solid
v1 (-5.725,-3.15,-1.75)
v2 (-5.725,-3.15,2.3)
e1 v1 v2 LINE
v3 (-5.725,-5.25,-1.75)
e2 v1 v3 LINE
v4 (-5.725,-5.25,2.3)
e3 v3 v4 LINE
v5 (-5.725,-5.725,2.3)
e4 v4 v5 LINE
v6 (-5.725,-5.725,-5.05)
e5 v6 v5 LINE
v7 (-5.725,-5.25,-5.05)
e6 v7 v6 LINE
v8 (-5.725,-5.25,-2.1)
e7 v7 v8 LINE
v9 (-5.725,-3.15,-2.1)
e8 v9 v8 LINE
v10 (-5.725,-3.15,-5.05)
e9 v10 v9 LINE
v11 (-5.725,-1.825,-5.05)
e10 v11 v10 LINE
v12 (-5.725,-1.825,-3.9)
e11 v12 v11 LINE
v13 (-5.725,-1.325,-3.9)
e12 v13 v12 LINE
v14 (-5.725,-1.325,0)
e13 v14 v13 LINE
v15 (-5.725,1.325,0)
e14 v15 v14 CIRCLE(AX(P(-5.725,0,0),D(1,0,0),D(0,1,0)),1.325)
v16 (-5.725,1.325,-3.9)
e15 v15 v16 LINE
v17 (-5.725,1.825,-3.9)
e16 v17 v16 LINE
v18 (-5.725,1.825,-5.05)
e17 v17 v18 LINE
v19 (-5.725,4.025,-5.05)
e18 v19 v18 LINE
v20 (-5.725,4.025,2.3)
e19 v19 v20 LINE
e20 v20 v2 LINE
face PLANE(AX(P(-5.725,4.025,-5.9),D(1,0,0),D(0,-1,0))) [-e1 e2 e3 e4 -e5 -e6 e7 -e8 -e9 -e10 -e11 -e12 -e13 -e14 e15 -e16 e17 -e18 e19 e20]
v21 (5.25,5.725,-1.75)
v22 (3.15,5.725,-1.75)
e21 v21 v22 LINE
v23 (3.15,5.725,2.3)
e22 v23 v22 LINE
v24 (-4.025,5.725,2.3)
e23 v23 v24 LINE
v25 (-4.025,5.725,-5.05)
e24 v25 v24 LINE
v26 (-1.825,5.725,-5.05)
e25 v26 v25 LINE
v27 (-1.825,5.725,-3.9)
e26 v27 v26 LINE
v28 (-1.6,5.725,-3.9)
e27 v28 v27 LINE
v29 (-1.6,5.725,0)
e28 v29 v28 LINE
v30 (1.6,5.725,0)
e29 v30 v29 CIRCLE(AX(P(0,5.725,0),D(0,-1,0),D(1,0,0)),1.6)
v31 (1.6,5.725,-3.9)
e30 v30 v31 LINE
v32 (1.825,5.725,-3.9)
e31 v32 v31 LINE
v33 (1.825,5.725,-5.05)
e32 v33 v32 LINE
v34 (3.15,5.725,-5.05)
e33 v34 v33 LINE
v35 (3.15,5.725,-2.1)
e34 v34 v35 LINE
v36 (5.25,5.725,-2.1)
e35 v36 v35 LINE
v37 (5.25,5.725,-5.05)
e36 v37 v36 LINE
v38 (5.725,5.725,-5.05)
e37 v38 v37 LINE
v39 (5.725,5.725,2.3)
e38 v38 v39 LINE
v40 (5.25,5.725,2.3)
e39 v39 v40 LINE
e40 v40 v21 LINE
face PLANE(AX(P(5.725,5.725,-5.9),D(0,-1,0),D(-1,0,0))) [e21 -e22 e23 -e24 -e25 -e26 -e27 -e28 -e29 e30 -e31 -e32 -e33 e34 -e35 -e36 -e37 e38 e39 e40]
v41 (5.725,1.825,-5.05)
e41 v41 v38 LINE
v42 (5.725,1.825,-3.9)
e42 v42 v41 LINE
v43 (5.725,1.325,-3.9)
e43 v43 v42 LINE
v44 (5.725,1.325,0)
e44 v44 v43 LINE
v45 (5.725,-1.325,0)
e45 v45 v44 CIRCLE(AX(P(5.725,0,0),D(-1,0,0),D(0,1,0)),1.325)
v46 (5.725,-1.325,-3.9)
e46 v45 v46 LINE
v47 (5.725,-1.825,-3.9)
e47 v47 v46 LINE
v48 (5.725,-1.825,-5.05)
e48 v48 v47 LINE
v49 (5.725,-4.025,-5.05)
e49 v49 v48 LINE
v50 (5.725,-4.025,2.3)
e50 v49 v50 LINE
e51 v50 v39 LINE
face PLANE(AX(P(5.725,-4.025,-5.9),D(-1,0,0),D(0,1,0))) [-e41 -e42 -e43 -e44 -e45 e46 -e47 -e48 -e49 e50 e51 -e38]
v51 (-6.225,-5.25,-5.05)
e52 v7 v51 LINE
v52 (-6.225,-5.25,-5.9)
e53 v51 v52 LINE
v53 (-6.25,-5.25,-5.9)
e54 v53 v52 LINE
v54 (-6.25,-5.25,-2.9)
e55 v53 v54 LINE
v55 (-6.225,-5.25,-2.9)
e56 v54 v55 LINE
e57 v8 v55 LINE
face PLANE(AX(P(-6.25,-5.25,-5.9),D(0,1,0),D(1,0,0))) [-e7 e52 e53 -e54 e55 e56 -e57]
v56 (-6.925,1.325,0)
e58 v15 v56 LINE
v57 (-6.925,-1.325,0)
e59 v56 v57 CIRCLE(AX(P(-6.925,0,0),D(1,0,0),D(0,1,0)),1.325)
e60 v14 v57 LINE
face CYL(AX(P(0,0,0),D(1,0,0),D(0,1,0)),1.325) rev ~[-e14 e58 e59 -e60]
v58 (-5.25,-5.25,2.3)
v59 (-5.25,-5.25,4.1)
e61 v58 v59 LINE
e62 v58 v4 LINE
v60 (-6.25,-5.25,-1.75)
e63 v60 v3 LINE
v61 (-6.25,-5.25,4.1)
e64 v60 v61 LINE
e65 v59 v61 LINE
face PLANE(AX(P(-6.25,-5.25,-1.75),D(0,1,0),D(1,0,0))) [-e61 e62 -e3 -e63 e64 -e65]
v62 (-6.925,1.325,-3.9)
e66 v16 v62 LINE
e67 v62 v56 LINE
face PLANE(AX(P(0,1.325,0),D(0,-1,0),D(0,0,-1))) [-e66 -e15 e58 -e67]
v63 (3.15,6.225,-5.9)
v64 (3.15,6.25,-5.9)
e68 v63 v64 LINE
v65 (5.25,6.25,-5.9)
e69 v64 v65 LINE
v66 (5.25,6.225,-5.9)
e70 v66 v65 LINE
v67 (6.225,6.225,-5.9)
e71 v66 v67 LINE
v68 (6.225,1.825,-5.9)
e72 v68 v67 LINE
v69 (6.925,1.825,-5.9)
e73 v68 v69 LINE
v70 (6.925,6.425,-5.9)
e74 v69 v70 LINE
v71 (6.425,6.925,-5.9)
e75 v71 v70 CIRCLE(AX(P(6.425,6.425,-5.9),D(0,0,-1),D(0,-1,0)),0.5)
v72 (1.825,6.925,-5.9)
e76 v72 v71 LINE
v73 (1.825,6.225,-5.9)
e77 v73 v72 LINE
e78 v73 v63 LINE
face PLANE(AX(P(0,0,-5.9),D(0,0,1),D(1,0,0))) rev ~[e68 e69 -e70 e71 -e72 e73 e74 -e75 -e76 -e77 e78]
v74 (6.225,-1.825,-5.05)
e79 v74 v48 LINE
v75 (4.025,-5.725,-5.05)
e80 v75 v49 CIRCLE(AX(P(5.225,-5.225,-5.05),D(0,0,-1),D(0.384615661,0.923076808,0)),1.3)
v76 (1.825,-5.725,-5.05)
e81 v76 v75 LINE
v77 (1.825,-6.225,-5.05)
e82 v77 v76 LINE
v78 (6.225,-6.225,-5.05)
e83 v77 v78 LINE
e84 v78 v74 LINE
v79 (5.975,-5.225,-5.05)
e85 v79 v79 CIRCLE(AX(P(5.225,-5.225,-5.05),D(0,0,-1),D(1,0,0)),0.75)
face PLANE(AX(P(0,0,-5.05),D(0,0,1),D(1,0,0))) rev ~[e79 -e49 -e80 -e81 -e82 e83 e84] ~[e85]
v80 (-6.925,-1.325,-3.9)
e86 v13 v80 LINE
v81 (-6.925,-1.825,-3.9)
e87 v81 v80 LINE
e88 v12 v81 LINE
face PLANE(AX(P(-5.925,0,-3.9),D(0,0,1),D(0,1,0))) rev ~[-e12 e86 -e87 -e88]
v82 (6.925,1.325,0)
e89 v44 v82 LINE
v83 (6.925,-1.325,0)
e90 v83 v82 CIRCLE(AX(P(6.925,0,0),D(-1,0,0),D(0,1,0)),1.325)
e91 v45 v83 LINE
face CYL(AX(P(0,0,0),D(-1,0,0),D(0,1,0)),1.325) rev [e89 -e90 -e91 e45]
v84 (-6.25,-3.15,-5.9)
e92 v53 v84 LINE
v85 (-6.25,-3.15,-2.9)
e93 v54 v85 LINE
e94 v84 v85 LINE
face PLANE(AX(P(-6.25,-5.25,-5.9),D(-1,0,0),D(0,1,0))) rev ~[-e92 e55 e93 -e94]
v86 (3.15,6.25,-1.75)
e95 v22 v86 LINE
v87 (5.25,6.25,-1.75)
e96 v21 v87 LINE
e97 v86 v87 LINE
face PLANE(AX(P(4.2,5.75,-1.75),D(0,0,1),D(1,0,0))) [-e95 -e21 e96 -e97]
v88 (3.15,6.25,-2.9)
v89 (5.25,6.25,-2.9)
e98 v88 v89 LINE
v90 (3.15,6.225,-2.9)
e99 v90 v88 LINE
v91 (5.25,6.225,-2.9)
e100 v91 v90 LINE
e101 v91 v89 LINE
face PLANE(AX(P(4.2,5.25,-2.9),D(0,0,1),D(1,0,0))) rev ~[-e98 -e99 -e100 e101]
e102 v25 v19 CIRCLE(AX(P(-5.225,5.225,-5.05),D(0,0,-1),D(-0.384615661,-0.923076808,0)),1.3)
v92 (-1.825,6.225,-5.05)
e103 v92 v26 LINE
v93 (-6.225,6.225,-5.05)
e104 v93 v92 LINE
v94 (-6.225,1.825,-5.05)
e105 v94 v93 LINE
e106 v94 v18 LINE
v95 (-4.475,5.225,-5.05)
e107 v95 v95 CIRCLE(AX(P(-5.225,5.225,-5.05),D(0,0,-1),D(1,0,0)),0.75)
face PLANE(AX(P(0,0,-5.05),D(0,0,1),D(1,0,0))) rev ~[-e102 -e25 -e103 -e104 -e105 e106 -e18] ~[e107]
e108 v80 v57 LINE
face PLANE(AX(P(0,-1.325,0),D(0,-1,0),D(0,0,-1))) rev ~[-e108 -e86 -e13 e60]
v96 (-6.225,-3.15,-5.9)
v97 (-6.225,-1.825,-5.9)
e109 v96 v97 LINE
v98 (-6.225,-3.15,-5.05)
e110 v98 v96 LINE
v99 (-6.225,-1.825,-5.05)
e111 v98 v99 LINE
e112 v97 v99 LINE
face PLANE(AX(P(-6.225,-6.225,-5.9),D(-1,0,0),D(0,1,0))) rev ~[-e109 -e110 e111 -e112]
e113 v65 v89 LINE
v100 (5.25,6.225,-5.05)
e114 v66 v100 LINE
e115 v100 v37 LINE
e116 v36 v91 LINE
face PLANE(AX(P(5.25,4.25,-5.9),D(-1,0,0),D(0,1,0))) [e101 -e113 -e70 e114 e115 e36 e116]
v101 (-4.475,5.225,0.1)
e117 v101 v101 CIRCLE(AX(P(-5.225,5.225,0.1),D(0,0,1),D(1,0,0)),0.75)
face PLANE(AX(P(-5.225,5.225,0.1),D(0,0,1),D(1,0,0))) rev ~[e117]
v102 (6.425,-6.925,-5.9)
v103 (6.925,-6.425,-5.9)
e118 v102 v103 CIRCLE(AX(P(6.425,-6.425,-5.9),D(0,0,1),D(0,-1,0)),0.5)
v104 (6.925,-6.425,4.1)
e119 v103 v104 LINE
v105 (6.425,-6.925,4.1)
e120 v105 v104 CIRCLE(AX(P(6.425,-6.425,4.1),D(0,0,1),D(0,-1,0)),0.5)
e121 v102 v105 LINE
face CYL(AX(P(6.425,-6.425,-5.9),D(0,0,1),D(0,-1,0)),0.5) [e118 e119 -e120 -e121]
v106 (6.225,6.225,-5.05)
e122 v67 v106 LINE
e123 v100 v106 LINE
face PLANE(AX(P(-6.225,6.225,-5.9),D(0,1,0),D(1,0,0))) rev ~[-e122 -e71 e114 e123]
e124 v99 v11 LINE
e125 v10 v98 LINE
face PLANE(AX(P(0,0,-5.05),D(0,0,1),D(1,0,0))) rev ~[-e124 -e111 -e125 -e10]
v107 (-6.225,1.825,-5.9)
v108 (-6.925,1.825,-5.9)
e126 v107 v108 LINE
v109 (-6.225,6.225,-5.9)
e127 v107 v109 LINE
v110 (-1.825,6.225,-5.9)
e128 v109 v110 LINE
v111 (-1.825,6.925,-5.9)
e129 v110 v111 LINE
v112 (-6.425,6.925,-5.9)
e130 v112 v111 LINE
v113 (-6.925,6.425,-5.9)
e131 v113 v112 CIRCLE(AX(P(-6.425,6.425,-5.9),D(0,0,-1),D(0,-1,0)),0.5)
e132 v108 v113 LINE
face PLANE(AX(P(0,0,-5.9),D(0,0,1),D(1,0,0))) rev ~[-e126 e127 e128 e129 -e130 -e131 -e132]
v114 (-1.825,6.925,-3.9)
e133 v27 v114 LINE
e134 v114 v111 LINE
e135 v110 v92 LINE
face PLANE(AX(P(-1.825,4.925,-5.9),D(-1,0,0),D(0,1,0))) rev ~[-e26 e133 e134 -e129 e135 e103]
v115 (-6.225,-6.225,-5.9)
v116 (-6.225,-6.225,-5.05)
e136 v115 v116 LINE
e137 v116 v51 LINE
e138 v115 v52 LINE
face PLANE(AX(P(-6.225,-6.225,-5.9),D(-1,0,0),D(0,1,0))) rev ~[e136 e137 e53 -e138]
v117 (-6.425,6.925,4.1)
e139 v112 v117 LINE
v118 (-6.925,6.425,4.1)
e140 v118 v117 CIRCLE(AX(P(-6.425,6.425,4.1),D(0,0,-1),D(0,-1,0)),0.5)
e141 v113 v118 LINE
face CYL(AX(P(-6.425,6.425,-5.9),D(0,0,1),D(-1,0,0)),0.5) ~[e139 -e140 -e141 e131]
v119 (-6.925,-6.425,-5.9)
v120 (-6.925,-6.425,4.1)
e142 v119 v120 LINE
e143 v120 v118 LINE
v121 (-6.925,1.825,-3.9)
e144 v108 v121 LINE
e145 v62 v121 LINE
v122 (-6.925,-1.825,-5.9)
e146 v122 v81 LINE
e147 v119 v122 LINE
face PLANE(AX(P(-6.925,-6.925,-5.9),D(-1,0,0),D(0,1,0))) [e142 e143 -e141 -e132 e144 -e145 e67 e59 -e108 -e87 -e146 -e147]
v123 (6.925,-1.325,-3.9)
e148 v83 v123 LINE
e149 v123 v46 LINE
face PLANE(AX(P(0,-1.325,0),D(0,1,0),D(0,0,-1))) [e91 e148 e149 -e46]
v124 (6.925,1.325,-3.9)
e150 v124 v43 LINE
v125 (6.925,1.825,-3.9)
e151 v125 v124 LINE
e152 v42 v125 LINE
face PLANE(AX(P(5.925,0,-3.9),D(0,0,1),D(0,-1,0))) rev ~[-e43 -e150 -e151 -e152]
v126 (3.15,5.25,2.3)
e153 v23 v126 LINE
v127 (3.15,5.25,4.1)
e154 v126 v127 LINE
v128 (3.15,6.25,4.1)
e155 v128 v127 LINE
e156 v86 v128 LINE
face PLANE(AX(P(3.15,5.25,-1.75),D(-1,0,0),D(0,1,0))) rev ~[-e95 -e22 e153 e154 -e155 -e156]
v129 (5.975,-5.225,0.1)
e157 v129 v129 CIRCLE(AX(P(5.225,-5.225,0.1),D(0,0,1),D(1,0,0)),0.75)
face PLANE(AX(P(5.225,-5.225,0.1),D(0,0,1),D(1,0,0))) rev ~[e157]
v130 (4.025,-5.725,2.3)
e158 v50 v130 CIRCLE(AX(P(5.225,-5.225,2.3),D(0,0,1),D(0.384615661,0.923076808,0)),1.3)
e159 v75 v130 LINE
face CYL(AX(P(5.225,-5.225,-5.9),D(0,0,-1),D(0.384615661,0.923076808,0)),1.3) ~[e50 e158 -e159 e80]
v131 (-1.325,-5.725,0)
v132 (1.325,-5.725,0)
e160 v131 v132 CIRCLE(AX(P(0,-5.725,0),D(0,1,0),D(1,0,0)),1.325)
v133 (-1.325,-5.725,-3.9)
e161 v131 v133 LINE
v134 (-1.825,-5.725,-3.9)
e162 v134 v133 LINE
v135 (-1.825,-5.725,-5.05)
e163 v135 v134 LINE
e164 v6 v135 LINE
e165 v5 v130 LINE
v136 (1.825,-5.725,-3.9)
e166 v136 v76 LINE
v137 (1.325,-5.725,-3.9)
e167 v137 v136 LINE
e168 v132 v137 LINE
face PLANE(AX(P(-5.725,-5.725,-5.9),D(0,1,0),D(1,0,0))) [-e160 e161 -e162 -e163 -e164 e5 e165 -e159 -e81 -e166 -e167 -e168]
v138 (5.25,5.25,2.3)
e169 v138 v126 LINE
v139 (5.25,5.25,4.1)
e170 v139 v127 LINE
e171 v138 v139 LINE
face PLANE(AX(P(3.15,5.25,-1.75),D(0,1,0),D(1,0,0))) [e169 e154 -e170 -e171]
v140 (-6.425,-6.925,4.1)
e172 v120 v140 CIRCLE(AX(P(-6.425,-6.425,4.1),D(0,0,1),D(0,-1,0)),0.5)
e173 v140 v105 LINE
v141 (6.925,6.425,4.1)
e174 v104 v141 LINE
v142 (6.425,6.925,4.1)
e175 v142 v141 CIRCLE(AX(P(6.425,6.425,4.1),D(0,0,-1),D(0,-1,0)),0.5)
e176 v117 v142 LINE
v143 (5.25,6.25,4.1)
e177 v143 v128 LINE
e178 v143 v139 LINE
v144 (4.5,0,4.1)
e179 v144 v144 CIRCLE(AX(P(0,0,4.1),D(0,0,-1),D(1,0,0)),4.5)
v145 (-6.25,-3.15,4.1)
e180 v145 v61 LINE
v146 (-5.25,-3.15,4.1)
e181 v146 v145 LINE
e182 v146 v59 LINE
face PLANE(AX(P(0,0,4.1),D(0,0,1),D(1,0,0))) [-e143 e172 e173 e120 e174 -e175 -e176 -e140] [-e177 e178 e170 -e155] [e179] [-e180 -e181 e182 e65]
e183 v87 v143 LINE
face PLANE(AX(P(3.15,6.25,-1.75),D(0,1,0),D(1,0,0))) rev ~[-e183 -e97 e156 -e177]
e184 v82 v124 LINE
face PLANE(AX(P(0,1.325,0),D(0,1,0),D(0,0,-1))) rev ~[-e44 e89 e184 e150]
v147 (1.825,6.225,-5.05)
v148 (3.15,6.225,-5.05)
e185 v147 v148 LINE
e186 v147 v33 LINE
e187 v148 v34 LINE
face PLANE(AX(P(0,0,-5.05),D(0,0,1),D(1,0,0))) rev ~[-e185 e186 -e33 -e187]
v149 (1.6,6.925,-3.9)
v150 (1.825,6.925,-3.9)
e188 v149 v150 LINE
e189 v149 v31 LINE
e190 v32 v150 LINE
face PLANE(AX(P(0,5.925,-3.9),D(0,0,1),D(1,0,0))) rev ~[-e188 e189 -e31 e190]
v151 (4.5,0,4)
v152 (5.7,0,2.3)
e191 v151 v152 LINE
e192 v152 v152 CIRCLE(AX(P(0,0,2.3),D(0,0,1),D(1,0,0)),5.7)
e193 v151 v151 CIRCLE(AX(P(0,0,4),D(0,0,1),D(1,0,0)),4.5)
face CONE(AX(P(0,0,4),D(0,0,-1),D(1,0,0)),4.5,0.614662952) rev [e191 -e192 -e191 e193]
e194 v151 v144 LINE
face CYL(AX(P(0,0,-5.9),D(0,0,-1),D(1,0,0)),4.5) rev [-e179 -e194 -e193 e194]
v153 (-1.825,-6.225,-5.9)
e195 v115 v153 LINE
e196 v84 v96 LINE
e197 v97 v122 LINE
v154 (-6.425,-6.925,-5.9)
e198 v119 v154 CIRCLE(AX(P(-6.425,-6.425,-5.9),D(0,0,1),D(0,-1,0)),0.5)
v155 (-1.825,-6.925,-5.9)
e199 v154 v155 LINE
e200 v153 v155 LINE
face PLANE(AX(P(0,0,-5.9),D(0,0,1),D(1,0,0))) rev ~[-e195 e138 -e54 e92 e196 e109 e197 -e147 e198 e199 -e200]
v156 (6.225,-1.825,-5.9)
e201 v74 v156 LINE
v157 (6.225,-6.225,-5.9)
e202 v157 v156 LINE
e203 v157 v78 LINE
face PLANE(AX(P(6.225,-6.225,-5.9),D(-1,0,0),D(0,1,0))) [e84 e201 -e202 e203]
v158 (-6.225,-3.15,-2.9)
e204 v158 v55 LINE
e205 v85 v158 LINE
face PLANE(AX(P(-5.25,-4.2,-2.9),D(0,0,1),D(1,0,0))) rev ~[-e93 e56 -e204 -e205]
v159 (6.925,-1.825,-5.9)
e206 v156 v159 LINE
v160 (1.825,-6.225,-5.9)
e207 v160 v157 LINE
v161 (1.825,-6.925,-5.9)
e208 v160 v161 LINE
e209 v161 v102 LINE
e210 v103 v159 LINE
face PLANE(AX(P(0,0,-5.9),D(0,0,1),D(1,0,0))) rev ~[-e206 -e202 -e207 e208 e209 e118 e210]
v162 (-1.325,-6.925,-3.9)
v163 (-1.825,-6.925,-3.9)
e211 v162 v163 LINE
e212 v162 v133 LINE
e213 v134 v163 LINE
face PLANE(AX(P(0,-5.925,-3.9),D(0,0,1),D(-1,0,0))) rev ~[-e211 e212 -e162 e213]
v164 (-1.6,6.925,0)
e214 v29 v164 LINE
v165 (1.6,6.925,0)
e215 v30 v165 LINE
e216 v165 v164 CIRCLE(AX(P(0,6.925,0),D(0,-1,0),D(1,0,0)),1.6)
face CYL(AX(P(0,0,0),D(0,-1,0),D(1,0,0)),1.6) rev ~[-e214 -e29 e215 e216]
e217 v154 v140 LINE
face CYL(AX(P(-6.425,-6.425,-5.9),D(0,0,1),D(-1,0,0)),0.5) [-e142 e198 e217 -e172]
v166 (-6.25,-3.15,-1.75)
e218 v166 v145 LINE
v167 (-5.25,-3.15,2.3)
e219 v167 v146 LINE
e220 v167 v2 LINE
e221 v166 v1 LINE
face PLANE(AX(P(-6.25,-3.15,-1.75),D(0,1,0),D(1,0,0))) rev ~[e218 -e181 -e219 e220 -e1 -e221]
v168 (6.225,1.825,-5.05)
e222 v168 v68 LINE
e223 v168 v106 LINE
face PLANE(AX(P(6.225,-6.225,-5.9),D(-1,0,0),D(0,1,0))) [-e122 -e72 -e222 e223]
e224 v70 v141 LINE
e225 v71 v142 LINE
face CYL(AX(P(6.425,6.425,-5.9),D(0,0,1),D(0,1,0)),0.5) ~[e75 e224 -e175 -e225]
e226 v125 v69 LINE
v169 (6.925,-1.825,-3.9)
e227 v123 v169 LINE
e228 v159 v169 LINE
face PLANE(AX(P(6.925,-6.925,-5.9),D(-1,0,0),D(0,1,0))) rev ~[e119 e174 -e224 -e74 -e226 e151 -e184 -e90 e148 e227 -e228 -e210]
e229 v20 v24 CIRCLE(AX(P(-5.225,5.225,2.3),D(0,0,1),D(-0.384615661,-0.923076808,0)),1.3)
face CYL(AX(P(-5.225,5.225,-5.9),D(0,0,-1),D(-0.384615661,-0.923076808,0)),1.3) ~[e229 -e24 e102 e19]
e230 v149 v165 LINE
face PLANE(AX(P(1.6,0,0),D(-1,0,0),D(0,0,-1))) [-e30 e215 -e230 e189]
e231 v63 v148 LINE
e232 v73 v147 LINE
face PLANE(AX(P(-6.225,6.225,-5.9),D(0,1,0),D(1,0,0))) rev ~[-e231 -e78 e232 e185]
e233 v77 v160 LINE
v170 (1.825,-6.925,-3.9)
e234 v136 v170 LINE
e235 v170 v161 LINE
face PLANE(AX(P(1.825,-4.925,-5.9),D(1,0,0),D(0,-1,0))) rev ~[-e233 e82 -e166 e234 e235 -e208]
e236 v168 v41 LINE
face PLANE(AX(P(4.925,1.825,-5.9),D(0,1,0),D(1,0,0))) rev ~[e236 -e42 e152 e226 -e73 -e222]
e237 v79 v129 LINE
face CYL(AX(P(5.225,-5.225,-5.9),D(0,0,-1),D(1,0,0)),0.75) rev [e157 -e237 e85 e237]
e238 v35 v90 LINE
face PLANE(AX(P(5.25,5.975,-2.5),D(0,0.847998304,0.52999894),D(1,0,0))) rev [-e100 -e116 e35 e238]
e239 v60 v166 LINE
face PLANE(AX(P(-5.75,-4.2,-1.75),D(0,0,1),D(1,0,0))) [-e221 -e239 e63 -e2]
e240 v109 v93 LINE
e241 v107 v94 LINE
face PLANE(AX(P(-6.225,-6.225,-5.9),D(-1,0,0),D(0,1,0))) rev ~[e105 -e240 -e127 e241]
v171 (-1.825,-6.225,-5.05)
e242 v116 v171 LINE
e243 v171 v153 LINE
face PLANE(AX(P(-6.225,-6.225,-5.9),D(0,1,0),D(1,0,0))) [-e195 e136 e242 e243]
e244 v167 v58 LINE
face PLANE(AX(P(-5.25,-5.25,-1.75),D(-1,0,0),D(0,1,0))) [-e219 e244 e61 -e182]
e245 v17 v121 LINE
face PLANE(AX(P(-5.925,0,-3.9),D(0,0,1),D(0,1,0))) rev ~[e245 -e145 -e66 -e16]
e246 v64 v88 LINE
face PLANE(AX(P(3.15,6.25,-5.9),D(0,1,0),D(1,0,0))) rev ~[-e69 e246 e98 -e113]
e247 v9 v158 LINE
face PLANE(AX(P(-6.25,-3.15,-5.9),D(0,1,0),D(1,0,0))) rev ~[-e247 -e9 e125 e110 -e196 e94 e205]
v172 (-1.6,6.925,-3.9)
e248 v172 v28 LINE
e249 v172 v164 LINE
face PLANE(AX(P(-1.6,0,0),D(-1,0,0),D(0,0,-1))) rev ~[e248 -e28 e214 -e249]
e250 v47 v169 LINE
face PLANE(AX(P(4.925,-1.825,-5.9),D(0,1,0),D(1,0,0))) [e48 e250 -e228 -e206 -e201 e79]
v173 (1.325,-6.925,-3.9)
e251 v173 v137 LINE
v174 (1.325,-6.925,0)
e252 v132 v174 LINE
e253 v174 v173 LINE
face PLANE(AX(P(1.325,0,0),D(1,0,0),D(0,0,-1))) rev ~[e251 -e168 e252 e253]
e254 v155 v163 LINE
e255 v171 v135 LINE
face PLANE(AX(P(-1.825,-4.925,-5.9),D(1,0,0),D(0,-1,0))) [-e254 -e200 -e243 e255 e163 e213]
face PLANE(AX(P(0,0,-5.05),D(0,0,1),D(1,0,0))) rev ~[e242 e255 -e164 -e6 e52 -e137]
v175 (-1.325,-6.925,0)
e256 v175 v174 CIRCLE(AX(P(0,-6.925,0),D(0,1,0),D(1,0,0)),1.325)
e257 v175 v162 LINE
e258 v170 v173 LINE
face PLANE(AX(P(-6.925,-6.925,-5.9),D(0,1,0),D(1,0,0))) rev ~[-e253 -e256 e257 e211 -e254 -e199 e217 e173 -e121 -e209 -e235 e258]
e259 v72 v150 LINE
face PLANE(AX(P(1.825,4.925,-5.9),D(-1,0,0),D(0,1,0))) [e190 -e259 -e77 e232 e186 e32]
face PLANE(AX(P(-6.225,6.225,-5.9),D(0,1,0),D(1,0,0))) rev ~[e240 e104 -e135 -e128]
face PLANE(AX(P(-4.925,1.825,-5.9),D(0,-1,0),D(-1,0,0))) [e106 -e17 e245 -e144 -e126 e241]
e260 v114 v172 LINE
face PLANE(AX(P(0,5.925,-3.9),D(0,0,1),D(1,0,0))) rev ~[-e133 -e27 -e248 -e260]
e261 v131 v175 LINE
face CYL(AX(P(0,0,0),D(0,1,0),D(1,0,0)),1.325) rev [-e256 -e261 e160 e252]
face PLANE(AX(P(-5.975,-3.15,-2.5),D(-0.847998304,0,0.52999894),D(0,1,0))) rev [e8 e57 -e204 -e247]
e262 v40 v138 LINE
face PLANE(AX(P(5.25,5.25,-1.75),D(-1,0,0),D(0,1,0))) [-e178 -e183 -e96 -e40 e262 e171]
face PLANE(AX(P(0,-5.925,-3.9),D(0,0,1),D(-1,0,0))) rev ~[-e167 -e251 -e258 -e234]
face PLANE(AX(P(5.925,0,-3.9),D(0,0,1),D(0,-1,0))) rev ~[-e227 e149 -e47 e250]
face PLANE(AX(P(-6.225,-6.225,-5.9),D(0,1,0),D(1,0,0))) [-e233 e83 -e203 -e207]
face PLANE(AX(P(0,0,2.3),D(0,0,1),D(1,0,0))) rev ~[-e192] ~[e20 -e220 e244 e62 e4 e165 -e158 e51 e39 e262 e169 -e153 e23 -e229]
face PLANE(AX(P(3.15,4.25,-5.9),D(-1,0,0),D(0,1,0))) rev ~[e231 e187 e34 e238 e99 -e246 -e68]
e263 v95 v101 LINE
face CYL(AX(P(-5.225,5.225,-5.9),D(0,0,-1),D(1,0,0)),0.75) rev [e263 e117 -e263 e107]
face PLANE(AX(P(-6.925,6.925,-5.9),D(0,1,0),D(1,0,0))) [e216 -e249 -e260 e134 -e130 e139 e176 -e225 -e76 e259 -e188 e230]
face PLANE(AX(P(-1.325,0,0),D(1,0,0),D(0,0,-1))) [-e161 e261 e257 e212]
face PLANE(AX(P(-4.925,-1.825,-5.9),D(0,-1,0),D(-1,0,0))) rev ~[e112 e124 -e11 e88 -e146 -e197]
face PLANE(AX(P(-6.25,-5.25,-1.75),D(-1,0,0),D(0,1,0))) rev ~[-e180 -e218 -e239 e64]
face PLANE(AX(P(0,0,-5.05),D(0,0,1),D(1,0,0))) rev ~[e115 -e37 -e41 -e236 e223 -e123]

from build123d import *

# Parameters (mm, degrees)
SKETCH042_W           = 13.85
SKETCH042_H           = 13.85
PAD020_DEPTH          = 10
POCKET016_DEPTH       = 8.2
SKETCH054_R           = 4.5
POCKET025_DEPTH       = 0.001
POCKET025_DEPTH_BACK  = 10.001
SKETCH044_W           = 12.45
SKETCH044_H           = 12.45
POCKET017_DEPTH       = 0.85
SKETCH045_W           = 3.65
SKETCH045_H           = 2
POCKET018_DEPTH       = 2
POLARPATTERN004_COUNT = 4
POCKET019_DEPTH       = 6.926
POCKET020_DEPTH       = 6.926
POCKET021_DEPTH       = 6.926
POCKET022_DEPTH       = 6.926
SKETCH050_R           = 0.75
HOLE_DEPTH            = 6
SKETCH052_W           = 2
SKETCH052_H           = 2.1
SKETCH052_W_2         = 2.1
SKETCH052_H_2         = 2
POCKET023_DEPTH       = 3
SKETCH053_W           = 1
SKETCH053_H           = 2.1
SKETCH053_W_2         = 2.1
SKETCH053_H_2         = 1
POCKET024_DEPTH       = 5.851
FILLET_R              = 0.5
CHAMFER001_1_SIZE2    = 0.5
CHAMFER001_1_SIZE     = 0.8
CHAMFER001_2_SIZE2    = 0.5
CHAMFER001_2_SIZE     = 0.8


with BuildPart() as part:
    # Sketch042 → Pad020 (new body)
    with BuildSketch(Plane.XY):
        Rectangle(SKETCH042_W, SKETCH042_H)
    extrude(amount=PAD020_DEPTH)

    # Sketch043 → Pocket016 (cut)
    with BuildSketch(Plane.XY):
        with BuildLine():
            Line((-5.725, 4.025), (-5.725, -5.725))
            Line((-5.725, -5.725), (4.025, -5.725))
            ThreePointArc((5.725, -4.025), (4.305761, -4.305761), (4.025, -5.725))
            Line((5.725, -4.025), (5.725, 5.725))
            Line((5.725, 5.725), (-4.025, 5.725))
            ThreePointArc((-5.725, 4.025), (-4.305761, 4.305761), (-4.025, 5.725))
        make_face()
    extrude(amount=POCKET016_DEPTH, mode=Mode.SUBTRACT)

    # Sketch054 → Pocket025 (cut, two sides)
    with BuildSketch(Plane.XY) as pocket025_sk:
        Circle(SKETCH054_R)
    extrude(amount=-POCKET025_DEPTH, mode=Mode.SUBTRACT)
    extrude(pocket025_sk.sketch, amount=POCKET025_DEPTH_BACK, mode=Mode.SUBTRACT)

    # Sketch055 → Groove003 (revolve, cut)
    with BuildSketch(Plane.XZ):
        Polygon((4.5, 9.9), (5.7, 8.2), (4.5, 8.2), align=None)
    revolve(axis=Axis((0, 0, 0), (0, 0, 1)), mode=Mode.SUBTRACT)

    # Sketch044 → Pocket017 (cut)
    with BuildSketch(Plane.XY):
        Rectangle(SKETCH044_W, SKETCH044_H)
    extrude(amount=POCKET017_DEPTH, mode=Mode.SUBTRACT)

    # Sketch045 → Pocket018 (cut)
    with BuildSketch(Plane.XY):
        with Locations((0, 5.925)):
            Rectangle(SKETCH045_W, SKETCH045_H)
    pocket018 = extrude(amount=POCKET018_DEPTH, mode=Mode.SUBTRACT)

    # PolarPattern004: Pocket018 ×4 about axis
    polarpattern004_axis = Axis((0, 0, 0), (0, 0, 1))
    for i in range(1, POLARPATTERN004_COUNT):
        add(pocket018.rotate(polarpattern004_axis, i * 360 / POLARPATTERN004_COUNT), mode=Mode.SUBTRACT)

    # Sketch046 → Pocket019 (cut, through all)
    with BuildSketch(Plane.XZ):
        with BuildLine():
            ThreePointArc((1.6, 5.9), (0, 7.5), (-1.6, 5.9))
            Line((-1.6, 5.9), (-1.6, 1.9))
            Line((-1.6, 1.9), (-1.825, 1.9))
            Line((-1.825, 1.9), (-1.825, -0.1))
            Line((1.825, -0.1), (-1.825, -0.1))
            Line((1.825, 1.9), (1.825, -0.1))
            Line((1.6, 1.9), (1.825, 1.9))
            Line((1.6, 5.9), (1.6, 1.9))
        make_face()
    extrude(amount=-POCKET019_DEPTH, mode=Mode.SUBTRACT)

    # Sketch047 → Pocket020 (cut, through all)
    with BuildSketch(Plane.XZ):
        with BuildLine():
            ThreePointArc((1.325, 5.9), (0, 7.225), (-1.325, 5.9))
            Line((-1.325, 5.9), (-1.325, 1.9))
            Line((-1.325, 1.9), (-1.825, 1.9))
            Line((-1.825, 1.9), (-1.825, -0.1))
            Line((1.825, -0.1), (-1.825, -0.1))
            Line((1.825, 1.9), (1.825, -0.1))
            Line((1.325, 1.9), (1.825, 1.9))
            Line((1.325, 5.9), (1.325, 1.9))
        make_face()
    extrude(amount=POCKET020_DEPTH, mode=Mode.SUBTRACT)

    # Sketch048 → Pocket021 (cut, through all)
    with BuildSketch(Plane.YZ):
        with BuildLine():
            ThreePointArc((1.325, 5.9), (0, 7.225), (-1.325, 5.9))
            Line((-1.325, 5.9), (-1.325, 1.9))
            Line((-1.325, 1.9), (-1.825, 1.9))
            Line((-1.825, 1.9), (-1.825, -0.1))
            Line((1.825, -0.1), (-1.825, -0.1))
            Line((1.825, 1.9), (1.825, -0.1))
            Line((1.325, 1.9), (1.825, 1.9))
            Line((1.325, 5.9), (1.325, 1.9))
        make_face()
    extrude(amount=POCKET021_DEPTH, mode=Mode.SUBTRACT)

    # Sketch049 → Pocket022 (cut, through all)
    with BuildSketch(Plane.YZ):
        with BuildLine():
            ThreePointArc((1.325, 5.9), (0, 7.225), (-1.325, 5.9))
            Line((-1.325, 5.9), (-1.325, 2))
            Line((-1.325, 2), (-1.825, 2))
            Line((-1.825, 2), (-1.825, 0))
            Line((1.825, 0), (-1.825, 0))
            Line((1.825, 2), (1.825, 0))
            Line((1.325, 2), (1.825, 2))
            Line((1.325, 5.9), (1.325, 2))
        make_face()
    extrude(amount=-POCKET022_DEPTH, mode=Mode.SUBTRACT)

    # Sketch050 → Hole (cut)
    with BuildSketch(Plane.XY):
        with Locations((-5.225, 5.225)):
            Circle(SKETCH050_R)
        with Locations((5.225, -5.225)):
            Circle(SKETCH050_R)
    extrude(amount=HOLE_DEPTH, mode=Mode.SUBTRACT)

    # Sketch052 → Pocket023 (cut)
    with BuildSketch(Plane.XY):
        with Locations((-5.25, -4.2)):
            Rectangle(SKETCH052_W, SKETCH052_H)
        with Locations((4.2, 5.25)):
            Rectangle(SKETCH052_W_2, SKETCH052_H_2)
    extrude(amount=POCKET023_DEPTH, mode=Mode.SUBTRACT)

    # Sketch053 → Pocket024 (cut, through all)
    with BuildSketch(Plane.XY.offset(4.15)):
        with Locations((-5.75, -4.2)):
            Rectangle(SKETCH053_W, SKETCH053_H)
        with Locations((4.2, 5.75)):
            Rectangle(SKETCH053_W_2, SKETCH053_H_2)
    extrude(amount=POCKET024_DEPTH, mode=Mode.SUBTRACT)

    # Fillet
    fillet_edges = [part.edges().sort_by_distance(p)[0] for p in [
        (-6.925, 6.925, 5),
        (-6.925, -6.925, 5),
        (6.925, -6.925, 5),
        (6.925, 6.925, 5),
    ]]
    fillet(fillet_edges, radius=FILLET_R)

    # Chamfer001 1
    chamfer001_1_edges = [part.edges().sort_by_distance(p)[0] for p in [
        (-5.725, -4.2, 3),
    ]]
    chamfer001_1_side = part.faces().sort_by_distance((-5.725, 2.925, 0.9721))[0]
    chamfer(chamfer001_1_edges, length=CHAMFER001_1_SIZE, length2=CHAMFER001_1_SIZE2, reference=chamfer001_1_side)

    # Chamfer001 2
    chamfer001_2_edges = [part.edges().sort_by_distance(p)[0] for p in [
        (4.2, 5.725, 3),
    ]]
    chamfer001_2_side = part.faces().sort_by_distance((5.4875, 5.725, 0.9721))[0]
    chamfer(chamfer001_2_edges, length=CHAMFER001_2_SIZE, length2=CHAMFER001_2_SIZE2, reference=chamfer001_2_side)


with BuildPart() as part_1:
    # Body005 placement: moved
    add(part.part.moved(Location((0, 0, -5.9))))


solid = part_1.part
